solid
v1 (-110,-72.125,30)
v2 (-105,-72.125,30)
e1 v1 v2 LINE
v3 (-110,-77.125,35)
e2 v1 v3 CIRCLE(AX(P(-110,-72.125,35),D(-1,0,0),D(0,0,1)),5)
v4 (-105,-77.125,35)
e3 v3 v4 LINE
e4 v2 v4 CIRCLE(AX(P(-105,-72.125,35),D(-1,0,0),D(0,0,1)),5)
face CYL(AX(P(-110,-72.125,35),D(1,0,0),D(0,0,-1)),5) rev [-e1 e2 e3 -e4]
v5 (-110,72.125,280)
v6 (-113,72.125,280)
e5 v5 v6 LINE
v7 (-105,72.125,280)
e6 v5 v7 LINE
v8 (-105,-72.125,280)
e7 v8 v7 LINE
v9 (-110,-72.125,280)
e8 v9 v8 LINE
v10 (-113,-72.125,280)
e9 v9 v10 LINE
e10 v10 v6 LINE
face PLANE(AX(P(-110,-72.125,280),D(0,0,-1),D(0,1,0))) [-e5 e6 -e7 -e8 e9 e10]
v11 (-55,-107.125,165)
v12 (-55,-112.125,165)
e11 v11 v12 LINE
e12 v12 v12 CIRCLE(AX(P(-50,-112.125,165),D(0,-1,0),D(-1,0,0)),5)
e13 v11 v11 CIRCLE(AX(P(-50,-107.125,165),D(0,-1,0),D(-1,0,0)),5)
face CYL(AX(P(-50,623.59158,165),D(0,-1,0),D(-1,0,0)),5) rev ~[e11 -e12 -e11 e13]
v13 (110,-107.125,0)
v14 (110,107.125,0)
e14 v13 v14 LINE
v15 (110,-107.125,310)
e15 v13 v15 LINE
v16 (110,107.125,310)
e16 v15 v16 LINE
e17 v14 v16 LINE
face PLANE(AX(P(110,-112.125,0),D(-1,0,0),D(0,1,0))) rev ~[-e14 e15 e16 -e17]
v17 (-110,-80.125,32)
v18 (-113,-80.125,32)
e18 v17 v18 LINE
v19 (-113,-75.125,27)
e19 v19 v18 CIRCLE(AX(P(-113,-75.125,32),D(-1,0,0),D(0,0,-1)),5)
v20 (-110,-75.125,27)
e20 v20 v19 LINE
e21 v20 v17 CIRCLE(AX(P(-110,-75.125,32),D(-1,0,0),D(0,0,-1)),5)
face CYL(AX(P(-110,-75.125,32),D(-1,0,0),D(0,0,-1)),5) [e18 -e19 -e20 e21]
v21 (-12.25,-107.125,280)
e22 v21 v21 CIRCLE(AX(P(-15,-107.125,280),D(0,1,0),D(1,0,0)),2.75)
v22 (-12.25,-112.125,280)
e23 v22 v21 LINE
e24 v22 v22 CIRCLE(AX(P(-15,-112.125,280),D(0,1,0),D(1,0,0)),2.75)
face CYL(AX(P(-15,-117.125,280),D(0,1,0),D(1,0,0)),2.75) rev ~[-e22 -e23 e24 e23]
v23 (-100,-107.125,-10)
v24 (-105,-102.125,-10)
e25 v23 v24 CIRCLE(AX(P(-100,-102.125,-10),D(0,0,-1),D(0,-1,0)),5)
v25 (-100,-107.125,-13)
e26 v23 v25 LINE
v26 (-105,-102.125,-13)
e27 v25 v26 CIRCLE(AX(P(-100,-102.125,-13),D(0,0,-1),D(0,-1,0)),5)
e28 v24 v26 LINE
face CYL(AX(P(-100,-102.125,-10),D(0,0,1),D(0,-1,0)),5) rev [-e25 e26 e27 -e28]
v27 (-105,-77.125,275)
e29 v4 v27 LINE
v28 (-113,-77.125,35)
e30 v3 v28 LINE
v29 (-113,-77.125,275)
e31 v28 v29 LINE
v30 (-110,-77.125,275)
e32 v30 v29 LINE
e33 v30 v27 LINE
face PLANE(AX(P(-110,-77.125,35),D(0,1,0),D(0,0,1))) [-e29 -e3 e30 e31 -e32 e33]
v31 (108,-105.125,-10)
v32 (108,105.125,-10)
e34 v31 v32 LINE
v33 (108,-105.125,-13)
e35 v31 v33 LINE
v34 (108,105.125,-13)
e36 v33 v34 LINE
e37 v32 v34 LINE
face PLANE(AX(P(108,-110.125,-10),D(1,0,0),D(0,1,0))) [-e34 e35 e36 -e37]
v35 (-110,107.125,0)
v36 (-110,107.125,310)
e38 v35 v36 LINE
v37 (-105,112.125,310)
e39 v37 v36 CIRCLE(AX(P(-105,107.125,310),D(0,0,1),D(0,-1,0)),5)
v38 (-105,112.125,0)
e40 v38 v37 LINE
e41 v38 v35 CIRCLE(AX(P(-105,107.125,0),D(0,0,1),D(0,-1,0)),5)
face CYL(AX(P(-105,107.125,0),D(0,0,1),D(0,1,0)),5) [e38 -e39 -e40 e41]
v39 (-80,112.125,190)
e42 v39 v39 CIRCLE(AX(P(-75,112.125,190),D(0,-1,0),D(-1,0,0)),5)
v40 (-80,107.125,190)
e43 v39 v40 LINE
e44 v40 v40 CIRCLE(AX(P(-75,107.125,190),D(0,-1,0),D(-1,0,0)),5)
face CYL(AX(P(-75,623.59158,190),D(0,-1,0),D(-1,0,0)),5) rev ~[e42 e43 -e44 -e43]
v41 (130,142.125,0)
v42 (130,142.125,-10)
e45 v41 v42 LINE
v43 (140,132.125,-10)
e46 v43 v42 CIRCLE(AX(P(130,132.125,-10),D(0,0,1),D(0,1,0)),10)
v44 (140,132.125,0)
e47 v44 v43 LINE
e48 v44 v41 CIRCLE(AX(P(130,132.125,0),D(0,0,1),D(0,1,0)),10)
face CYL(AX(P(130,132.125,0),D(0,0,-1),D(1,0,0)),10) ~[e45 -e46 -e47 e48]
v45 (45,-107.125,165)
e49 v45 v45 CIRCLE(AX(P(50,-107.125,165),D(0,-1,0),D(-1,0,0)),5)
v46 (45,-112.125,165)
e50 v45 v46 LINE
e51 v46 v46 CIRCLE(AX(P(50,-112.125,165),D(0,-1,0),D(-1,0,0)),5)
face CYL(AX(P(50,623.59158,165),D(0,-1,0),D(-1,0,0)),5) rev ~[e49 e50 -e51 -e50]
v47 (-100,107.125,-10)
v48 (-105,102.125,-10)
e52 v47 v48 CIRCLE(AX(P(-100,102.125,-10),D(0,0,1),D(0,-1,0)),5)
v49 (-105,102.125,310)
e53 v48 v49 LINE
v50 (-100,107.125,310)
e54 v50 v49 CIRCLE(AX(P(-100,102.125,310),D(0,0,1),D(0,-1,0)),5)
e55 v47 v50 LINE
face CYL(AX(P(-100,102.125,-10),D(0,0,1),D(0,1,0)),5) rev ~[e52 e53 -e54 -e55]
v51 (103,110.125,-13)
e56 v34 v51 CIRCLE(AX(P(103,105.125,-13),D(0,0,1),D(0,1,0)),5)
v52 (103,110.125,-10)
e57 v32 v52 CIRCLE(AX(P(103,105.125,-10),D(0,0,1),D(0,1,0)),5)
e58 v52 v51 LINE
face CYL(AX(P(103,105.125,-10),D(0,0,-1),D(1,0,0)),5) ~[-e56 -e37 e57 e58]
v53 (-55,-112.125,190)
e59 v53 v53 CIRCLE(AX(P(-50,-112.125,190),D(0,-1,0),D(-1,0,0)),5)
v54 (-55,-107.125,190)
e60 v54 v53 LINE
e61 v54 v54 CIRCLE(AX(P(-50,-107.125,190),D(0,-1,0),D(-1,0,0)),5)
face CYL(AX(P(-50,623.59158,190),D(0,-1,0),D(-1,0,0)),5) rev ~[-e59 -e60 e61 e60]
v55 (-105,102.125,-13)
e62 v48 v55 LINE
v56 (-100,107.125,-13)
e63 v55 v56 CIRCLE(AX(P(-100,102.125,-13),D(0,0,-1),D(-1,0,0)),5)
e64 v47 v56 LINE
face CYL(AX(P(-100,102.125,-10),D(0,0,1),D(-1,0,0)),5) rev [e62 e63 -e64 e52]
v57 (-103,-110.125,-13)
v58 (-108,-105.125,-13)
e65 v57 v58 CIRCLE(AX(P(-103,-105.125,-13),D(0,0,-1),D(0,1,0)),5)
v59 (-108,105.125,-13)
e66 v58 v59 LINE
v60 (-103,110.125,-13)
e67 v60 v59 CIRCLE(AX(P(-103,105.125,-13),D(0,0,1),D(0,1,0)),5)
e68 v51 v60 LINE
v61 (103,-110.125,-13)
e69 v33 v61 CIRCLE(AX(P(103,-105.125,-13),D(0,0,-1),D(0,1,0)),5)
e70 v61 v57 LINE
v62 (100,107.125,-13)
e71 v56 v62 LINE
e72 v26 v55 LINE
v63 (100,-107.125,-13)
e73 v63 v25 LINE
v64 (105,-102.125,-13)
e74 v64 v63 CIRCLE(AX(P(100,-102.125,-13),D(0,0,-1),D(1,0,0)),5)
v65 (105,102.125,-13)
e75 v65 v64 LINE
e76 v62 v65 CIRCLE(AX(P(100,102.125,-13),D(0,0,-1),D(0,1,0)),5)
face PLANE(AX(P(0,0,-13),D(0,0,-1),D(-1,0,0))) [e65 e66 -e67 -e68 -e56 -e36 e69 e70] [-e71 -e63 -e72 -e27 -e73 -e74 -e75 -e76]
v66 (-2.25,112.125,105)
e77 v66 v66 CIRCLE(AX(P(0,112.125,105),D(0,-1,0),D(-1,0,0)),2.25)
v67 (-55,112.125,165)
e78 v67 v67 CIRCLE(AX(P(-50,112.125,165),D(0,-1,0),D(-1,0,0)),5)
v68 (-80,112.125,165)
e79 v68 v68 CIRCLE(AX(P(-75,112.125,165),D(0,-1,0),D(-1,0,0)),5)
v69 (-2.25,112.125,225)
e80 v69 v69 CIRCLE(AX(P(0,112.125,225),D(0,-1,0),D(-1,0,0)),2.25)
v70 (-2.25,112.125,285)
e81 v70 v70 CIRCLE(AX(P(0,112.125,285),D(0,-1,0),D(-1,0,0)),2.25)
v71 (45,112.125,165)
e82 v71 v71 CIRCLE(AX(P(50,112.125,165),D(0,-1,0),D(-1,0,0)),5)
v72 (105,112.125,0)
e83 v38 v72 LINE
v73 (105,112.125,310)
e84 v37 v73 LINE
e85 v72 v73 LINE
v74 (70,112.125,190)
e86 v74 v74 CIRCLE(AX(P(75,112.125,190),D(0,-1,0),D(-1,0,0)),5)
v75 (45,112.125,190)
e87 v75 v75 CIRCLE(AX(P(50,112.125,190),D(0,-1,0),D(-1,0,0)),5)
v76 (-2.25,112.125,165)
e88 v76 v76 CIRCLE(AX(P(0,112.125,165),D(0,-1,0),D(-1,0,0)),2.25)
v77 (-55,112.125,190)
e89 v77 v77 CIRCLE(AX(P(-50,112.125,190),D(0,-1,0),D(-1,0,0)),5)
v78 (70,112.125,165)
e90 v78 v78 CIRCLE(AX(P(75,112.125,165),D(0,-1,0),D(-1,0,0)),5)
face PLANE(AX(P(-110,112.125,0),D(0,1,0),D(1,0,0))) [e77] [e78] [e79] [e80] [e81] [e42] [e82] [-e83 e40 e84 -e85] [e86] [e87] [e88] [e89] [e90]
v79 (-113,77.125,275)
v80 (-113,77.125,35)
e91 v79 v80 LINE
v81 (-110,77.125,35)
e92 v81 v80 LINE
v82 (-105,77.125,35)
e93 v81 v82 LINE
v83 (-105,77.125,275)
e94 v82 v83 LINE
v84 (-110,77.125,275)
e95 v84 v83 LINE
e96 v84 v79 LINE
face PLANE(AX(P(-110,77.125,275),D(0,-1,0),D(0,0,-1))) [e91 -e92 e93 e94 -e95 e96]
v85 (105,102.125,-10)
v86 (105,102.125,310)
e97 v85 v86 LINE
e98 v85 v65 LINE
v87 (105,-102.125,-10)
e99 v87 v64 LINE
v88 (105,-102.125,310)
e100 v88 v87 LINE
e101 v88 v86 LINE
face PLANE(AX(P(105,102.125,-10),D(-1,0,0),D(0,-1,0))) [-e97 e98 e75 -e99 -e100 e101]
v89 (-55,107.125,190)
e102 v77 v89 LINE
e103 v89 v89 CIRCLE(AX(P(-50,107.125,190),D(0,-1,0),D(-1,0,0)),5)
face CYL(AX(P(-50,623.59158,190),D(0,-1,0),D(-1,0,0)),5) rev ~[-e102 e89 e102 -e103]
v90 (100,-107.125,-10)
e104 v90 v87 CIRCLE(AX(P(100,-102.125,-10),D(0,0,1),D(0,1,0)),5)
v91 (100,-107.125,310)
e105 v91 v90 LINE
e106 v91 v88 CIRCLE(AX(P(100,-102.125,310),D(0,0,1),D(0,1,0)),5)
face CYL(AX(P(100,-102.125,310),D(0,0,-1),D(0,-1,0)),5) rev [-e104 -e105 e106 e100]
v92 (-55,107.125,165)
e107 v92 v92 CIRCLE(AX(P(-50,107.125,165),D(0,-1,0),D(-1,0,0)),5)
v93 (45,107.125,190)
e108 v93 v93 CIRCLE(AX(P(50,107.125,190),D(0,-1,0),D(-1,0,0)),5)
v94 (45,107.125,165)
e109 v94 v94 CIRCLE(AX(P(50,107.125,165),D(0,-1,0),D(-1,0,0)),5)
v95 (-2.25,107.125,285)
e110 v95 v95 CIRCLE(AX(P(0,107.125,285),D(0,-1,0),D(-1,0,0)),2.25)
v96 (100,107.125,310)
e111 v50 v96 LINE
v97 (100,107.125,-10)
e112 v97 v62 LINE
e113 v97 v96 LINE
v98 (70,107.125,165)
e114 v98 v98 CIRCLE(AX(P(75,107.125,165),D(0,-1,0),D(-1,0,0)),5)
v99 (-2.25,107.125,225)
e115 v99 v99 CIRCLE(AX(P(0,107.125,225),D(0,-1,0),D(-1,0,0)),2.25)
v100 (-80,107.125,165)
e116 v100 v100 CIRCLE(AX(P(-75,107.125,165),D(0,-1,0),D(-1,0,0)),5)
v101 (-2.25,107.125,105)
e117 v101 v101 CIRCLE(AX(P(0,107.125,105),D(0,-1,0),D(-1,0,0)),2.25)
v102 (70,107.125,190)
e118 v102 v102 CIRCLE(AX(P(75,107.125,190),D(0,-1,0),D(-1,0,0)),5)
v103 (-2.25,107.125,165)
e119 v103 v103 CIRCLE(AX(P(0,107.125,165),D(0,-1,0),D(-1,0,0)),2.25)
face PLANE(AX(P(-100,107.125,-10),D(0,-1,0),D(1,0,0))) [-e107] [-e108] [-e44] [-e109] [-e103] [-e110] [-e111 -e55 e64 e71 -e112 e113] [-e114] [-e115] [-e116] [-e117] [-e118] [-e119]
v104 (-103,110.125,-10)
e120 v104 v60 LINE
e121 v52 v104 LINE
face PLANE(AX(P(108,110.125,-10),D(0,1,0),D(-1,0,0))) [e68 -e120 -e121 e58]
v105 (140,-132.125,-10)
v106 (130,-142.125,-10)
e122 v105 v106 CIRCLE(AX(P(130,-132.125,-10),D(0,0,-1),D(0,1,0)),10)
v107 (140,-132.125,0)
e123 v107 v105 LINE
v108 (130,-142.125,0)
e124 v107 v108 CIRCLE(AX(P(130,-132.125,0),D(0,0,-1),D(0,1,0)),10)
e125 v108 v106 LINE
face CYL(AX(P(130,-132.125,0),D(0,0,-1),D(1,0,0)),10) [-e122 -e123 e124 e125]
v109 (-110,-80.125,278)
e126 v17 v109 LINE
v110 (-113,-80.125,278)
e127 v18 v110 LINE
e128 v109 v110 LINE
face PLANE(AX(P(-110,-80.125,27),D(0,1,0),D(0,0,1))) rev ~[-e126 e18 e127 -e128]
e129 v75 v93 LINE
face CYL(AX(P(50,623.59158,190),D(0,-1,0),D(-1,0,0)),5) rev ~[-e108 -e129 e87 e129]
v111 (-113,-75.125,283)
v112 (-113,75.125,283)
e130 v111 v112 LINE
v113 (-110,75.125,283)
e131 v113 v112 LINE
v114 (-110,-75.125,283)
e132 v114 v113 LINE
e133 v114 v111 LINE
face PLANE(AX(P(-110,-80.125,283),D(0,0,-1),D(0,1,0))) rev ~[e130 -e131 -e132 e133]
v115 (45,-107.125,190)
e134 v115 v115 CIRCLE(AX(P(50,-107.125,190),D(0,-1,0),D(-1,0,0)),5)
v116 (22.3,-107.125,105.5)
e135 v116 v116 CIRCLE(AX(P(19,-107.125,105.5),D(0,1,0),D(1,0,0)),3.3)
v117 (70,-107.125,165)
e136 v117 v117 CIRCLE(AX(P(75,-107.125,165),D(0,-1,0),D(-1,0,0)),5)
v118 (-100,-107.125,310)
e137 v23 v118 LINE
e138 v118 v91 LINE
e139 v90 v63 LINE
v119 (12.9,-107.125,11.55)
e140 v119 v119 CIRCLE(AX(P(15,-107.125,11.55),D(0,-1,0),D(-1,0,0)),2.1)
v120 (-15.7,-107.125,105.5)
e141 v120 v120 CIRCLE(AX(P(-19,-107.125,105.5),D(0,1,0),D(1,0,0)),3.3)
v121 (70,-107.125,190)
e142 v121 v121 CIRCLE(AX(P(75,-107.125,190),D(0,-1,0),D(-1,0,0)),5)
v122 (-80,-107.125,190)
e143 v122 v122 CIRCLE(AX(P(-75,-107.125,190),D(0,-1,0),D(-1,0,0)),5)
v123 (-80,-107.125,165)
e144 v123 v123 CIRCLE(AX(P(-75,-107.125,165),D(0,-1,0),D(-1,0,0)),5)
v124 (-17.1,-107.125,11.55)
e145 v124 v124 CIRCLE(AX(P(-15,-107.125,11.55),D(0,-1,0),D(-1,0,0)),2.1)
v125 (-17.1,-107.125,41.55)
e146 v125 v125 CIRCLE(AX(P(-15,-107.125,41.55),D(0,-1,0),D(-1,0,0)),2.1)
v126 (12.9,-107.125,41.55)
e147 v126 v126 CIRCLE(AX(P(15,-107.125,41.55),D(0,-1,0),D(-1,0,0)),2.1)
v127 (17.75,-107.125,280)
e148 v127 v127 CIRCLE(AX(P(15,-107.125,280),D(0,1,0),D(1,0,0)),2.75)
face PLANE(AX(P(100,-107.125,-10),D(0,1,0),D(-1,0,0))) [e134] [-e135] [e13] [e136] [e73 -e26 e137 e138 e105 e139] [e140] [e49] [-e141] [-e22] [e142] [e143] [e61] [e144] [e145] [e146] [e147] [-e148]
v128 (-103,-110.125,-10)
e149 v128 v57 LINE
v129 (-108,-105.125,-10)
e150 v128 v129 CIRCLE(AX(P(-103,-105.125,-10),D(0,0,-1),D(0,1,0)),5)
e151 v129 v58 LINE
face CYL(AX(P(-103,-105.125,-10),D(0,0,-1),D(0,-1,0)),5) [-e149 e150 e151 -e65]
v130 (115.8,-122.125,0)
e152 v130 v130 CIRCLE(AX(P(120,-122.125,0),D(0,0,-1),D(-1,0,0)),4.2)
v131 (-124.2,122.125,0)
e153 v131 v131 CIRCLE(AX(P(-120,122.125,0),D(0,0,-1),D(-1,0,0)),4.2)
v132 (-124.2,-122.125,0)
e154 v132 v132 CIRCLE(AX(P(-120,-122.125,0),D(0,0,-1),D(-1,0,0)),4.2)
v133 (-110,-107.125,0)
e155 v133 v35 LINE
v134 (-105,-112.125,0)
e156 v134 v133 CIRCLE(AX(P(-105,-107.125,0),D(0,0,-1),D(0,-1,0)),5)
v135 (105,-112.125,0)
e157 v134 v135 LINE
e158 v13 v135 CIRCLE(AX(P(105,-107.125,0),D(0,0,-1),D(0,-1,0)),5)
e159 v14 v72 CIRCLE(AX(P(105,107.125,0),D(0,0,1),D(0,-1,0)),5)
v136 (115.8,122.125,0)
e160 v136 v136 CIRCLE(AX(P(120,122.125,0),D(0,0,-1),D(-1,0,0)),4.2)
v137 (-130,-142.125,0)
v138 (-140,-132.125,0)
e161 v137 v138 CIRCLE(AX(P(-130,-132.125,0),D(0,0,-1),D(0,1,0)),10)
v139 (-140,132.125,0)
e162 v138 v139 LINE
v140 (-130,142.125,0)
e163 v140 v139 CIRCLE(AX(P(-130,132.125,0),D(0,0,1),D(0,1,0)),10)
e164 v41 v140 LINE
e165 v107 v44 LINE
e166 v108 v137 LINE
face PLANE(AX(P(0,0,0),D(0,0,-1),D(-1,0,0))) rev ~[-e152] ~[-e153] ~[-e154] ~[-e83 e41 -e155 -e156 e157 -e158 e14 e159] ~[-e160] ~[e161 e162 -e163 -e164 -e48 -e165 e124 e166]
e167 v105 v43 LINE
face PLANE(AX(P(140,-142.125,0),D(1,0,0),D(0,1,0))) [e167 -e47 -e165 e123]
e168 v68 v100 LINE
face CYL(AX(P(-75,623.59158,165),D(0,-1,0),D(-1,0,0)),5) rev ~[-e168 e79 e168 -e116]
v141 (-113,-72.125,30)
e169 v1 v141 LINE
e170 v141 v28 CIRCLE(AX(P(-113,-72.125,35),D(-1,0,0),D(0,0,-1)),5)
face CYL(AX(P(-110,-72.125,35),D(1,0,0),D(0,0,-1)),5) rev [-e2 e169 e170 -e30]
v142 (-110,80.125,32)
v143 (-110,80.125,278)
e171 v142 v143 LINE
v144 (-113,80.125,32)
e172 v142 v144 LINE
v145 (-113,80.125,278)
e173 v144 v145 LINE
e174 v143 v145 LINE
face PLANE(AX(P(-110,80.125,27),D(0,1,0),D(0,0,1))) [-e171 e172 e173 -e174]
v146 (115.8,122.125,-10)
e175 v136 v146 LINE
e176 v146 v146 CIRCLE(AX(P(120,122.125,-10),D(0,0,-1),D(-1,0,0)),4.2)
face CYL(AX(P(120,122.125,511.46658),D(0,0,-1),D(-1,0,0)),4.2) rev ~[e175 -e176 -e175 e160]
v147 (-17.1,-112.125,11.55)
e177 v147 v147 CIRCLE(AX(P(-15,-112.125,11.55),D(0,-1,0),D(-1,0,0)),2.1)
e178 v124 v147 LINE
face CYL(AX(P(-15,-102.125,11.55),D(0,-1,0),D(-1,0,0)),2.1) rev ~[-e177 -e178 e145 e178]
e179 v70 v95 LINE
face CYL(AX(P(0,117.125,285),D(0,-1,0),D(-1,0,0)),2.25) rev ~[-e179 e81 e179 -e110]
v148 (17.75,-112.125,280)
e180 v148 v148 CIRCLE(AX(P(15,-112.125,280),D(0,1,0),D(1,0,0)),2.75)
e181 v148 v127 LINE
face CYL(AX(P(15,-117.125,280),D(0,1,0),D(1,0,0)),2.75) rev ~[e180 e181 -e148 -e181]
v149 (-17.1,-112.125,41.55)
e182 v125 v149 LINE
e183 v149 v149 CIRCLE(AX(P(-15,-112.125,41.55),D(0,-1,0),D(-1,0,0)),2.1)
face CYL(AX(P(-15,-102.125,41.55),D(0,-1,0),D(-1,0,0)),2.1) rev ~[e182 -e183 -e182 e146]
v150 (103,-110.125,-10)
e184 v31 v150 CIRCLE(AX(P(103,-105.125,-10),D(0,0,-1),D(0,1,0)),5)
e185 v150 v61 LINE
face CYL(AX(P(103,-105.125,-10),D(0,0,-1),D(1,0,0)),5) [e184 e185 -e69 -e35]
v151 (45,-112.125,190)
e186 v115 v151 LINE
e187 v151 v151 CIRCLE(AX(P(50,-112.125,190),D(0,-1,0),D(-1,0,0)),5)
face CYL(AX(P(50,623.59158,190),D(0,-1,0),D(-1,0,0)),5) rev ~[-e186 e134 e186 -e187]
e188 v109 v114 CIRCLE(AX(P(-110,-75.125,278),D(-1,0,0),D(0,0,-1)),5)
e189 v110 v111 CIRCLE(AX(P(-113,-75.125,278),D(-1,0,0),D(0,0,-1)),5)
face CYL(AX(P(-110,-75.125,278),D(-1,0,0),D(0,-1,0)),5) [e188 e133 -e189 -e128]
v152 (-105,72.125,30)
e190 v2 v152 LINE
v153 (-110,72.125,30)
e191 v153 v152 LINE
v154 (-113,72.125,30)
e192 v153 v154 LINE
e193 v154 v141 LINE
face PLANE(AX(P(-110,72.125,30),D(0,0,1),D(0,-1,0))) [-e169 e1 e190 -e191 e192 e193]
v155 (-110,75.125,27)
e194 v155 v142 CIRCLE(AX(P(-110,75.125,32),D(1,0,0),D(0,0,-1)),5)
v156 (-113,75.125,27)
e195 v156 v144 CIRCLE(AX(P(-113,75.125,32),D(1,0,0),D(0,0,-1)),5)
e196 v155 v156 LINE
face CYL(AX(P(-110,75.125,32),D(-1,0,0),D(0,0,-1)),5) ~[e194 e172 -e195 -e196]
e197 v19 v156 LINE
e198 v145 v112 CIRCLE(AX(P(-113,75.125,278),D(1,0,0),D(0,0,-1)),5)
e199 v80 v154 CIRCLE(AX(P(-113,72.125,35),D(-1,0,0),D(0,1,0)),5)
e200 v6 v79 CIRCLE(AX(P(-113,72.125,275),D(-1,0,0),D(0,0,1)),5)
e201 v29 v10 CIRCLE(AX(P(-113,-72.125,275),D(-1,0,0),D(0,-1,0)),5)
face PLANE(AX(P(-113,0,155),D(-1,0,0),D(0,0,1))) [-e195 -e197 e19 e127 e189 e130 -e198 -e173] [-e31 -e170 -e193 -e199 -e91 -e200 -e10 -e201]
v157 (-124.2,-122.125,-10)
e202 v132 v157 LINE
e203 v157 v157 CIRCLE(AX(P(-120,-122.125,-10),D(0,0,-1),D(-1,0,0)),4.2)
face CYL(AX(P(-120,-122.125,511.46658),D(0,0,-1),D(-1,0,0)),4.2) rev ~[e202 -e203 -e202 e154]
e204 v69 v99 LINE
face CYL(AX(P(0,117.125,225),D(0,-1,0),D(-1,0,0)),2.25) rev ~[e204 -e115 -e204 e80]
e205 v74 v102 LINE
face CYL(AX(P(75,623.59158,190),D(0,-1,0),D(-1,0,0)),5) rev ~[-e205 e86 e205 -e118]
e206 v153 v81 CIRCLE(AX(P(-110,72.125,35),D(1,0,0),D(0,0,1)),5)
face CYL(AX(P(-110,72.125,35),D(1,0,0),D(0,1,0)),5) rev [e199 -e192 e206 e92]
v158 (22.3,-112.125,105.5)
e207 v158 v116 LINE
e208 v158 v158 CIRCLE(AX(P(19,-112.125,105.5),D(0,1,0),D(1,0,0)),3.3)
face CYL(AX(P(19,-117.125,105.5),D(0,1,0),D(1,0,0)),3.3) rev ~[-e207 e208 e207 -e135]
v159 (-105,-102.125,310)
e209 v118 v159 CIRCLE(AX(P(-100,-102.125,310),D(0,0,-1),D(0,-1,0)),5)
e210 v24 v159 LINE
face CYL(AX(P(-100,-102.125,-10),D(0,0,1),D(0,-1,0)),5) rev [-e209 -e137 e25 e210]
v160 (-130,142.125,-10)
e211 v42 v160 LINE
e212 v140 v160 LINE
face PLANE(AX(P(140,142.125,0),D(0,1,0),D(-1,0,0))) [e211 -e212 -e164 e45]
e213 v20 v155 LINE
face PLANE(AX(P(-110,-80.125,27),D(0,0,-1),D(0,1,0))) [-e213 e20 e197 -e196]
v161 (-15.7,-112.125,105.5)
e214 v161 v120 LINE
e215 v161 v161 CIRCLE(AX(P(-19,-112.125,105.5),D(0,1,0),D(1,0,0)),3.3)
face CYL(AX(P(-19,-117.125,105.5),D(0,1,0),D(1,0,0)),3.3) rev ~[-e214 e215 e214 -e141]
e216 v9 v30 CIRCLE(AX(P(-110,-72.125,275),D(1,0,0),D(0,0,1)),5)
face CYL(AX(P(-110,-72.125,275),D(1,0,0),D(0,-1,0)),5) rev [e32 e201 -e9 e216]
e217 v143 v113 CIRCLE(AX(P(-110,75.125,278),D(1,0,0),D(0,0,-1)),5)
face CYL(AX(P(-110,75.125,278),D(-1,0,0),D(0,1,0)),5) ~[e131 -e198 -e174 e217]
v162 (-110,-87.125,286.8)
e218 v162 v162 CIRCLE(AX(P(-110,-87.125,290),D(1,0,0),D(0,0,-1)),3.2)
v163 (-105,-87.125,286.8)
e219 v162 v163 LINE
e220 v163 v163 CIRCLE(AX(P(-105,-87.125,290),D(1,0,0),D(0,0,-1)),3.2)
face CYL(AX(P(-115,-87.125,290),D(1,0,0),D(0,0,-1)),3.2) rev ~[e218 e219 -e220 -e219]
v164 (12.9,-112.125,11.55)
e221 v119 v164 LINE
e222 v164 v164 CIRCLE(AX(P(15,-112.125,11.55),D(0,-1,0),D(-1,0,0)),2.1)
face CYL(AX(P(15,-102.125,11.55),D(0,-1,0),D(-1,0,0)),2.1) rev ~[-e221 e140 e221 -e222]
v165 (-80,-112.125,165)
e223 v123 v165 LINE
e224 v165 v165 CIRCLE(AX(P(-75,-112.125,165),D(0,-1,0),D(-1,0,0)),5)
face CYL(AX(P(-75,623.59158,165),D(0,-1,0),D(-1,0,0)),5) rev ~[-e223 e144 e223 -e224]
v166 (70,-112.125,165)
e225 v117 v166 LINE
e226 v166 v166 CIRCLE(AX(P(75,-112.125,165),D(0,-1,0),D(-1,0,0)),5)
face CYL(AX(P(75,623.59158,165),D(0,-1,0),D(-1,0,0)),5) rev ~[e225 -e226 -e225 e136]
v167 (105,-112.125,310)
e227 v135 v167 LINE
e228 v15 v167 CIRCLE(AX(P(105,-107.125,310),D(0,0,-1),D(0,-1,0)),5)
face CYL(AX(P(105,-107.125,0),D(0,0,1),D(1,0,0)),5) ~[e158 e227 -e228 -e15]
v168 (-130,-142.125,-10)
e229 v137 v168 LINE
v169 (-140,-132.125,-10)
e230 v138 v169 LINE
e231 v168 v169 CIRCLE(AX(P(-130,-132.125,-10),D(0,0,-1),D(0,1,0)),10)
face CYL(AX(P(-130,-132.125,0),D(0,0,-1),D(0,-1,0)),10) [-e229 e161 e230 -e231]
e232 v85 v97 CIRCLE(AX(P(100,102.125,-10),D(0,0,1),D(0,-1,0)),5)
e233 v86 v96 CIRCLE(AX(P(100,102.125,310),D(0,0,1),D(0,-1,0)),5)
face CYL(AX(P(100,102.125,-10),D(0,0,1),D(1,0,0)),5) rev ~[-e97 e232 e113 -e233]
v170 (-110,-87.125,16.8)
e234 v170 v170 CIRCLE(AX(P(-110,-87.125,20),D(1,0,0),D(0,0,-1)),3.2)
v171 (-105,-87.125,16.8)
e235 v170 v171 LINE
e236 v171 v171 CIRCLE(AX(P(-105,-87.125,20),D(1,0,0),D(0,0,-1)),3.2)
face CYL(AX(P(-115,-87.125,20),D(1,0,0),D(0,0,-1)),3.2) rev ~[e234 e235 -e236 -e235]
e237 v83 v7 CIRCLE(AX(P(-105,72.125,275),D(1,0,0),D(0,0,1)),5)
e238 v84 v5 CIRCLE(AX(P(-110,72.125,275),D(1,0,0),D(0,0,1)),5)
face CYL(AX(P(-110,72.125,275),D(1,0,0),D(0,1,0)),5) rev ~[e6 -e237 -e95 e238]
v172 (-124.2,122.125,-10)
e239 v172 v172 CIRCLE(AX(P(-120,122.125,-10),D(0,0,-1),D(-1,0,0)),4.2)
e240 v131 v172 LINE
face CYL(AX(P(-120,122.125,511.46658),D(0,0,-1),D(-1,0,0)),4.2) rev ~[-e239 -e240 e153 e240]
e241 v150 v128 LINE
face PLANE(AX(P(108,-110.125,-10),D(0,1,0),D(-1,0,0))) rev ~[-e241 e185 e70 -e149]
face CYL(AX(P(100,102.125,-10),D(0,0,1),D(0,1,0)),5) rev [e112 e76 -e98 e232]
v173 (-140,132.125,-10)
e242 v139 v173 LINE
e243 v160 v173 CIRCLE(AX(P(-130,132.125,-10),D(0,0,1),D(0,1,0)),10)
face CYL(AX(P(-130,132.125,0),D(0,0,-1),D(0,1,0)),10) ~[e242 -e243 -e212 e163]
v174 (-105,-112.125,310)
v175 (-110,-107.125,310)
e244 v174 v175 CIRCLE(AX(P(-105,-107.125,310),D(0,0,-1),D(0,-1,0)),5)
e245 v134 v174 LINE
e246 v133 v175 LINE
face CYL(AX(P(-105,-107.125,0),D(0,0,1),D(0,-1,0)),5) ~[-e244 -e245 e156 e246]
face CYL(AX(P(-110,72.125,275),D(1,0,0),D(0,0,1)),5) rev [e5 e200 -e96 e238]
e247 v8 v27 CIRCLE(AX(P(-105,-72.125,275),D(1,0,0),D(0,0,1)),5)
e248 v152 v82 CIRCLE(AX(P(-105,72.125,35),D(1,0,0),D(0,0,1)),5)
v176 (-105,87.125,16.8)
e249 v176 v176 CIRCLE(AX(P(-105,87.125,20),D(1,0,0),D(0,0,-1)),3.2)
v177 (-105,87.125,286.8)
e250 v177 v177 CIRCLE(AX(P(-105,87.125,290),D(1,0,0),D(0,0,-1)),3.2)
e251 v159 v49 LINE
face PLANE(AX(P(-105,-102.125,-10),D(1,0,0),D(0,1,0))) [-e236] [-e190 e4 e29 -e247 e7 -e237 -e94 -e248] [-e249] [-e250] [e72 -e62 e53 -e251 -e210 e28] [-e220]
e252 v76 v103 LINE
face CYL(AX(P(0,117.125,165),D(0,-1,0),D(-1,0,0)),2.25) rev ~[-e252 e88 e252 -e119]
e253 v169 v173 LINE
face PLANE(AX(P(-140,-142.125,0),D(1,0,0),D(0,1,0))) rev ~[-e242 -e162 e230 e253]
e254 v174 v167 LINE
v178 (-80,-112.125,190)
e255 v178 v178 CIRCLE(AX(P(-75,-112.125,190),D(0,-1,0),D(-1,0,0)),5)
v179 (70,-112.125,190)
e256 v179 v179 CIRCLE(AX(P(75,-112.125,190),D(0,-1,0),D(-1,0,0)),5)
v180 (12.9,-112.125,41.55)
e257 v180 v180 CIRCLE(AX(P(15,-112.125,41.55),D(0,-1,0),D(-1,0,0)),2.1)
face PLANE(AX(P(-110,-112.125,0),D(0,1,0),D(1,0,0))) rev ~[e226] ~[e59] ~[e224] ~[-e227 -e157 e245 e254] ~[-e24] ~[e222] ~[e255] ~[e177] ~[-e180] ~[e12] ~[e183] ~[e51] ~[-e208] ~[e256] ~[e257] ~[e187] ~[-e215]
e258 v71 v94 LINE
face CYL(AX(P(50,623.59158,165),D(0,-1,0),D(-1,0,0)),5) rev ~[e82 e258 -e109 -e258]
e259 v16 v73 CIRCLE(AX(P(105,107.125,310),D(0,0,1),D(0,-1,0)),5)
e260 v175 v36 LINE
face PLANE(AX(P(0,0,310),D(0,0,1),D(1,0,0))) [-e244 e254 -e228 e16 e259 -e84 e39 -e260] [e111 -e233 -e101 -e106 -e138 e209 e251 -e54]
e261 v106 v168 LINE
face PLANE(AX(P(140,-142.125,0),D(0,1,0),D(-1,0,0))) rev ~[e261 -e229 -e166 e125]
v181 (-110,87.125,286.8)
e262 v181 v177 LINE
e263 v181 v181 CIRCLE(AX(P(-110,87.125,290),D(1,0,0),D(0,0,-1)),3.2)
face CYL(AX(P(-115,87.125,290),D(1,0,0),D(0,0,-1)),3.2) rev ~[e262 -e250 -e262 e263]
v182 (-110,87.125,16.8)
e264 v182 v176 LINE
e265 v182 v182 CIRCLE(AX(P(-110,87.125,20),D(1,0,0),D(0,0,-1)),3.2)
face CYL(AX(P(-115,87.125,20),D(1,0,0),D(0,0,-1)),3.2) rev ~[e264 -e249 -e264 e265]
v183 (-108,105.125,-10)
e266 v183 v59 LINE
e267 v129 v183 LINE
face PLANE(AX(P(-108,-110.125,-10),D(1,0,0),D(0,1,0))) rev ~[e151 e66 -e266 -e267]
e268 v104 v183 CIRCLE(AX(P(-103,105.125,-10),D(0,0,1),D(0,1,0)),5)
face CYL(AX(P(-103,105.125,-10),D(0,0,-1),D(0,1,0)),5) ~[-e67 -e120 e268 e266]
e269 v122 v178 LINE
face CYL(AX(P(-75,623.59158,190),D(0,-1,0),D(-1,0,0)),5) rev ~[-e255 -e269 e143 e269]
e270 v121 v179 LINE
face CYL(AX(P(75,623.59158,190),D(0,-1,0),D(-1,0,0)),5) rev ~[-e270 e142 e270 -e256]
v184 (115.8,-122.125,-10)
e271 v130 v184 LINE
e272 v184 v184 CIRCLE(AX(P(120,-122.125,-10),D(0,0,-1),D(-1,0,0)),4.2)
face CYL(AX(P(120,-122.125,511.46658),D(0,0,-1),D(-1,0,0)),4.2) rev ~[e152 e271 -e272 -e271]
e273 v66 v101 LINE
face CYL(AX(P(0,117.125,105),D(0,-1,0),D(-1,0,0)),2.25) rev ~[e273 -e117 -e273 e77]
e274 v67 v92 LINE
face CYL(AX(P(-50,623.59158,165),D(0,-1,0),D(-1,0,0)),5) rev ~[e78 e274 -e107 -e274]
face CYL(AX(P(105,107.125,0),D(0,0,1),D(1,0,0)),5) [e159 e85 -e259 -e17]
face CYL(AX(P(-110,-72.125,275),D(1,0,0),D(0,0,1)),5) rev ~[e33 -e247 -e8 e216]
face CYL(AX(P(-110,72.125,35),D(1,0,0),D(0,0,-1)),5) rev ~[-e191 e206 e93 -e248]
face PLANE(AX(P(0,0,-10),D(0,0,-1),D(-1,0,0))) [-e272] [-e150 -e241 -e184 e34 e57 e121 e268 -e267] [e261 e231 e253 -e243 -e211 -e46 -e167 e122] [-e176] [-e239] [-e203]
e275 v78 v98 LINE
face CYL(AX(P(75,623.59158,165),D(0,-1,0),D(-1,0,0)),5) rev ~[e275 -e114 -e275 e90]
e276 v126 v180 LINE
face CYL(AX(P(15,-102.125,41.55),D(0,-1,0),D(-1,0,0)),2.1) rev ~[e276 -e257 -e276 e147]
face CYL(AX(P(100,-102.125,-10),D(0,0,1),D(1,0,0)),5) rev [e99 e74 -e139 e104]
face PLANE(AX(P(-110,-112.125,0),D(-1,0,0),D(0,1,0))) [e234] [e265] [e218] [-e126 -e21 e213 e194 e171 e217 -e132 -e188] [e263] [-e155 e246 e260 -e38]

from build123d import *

# Parameters (mm, degrees)
SKETCH_1_W                  = 220
SKETCH_1_H                  = 224.25
SKETCH_1_W_2                = 210
SKETCH_1_H_2                = 214.25
EXTRUDE_1_DEPTH             = 310
SKETCH_2_W                  = 280
SKETCH_2_H                  = 284.25
SKETCH_2_W_2                = 210
SKETCH_2_H_2                = 214.25
EXTRUDE_2_DEPTH             = 10
FILLET_1_R                  = 5
FILLET_2_R                  = 5
FILLET_3_R                  = 10
HOLE_WIZARD_8_4_8_4_1_D     = 8.4
MM_11_D                     = 10
HOLE_WIZARD_4_5_4_5_1_D     = 4.5
HOLE_WIZARD_4_5_4_5_1_DEPTH = 5
HOLE_WIZARD_6_6_6_6_1_D     = 6.6
HOLE_WIZARD_6_6_6_6_1_DEPTH = 5
HOLE_WIZARD_5_5_5_5_1_D     = 5.5
HOLE_WIZARD_5_5_5_5_1_DEPTH = 5
CUT_EXTRUDE_1_REACH         = 252
SKETCH_45_W                 = 250
SKETCH_45_H                 = 154.25
FILLET_4_R                  = 5
SKETCH_49_W                 = 256
SKETCH_49_H                 = 160.25
EXTRUDE_3_DEPTH             = 3
FILLET_5_R                  = 5
SKETCH_50_W                 = 216
SKETCH_50_H                 = 220.25
EXTRUDE_4_DEPTH             = 3
FILLET_6_R                  = 5
HOLE_WIZARD_6_4_6_4_1_D     = 6.4
HOLE_WIZARD_6_4_6_4_1_DEPTH = 5
HOLE_WIZARD_4_2_4_2_1_D     = 4.2
HOLE_WIZARD_4_2_4_2_1_DEPTH = 5


with BuildPart() as part:
    # 草图1 → 凸台-拉伸1 (new body)
    with BuildSketch(Plane.XY):
        Rectangle(SKETCH_1_W, SKETCH_1_H)
        Rectangle(SKETCH_1_W_2, SKETCH_1_H_2, mode=Mode.SUBTRACT)
    extrude(amount=EXTRUDE_1_DEPTH)

    # 草图2 → 凸台-拉伸2 (add)
    with BuildSketch(Plane(origin=(0, 0, 0), x_dir=(-1, 0, 0), z_dir=(0, 0, -1))):
        Rectangle(SKETCH_2_W, SKETCH_2_H)
        Rectangle(SKETCH_2_W_2, SKETCH_2_H_2, mode=Mode.SUBTRACT)
    extrude(amount=EXTRUDE_2_DEPTH)

    # 圆角1
    fillet_1_edges = [part.edges().sort_by_distance(p)[0] for p in [
        (110, -112.125, 155),
        (-110, -112.125, 155),
        (-110, 112.125, 155),
        (110, 112.125, 155),
    ]]
    fillet(fillet_1_edges, radius=FILLET_1_R)

    # 圆角2
    fillet_2_edges = [part.edges().sort_by_distance(p)[0] for p in [
        (105, -107.125, 150),
        (105, 107.125, 150),
        (-105, 107.125, 150),
        (-105, -107.125, 150),
    ]]
    fillet(fillet_2_edges, radius=FILLET_2_R)

    # 圆角3
    fillet_3_edges = [part.edges().sort_by_distance(p)[0] for p in [
        (-140, -142.125, -5),
        (-140, 142.125, -5),
        (140, 142.125, -5),
        (140, -142.125, -5),
    ]]
    fillet(fillet_3_edges, radius=FILLET_3_R)

    # Ø8.4 (8.4) 直径孔1 (through all)
    with Locations(Plane.XY):
        with Locations((120, 122.125), (120, -122.125), (-120, -122.125), (-120, 122.125)):
            Hole(HOLE_WIZARD_8_4_8_4_1_D / 2)

    # 大小mm 暗销孔11 (through all)
    with Locations(Plane(origin=(0, 112.125, 0), x_dir=(1, 0, 0), z_dir=(0, 1, 0))):
        with Locations((-75, -165), (-50, -165), (-50, -190), (-75, -190), (50, -190), (50, -165), (75, -165), (75, -190)):
            Hole(MM_11_D / 2)

    # Ø4.5 (4.5) 直径孔1
    with Locations(Plane(origin=(0, 112.125, 0), x_dir=(1, 0, 0), z_dir=(0, 1, 0))):
        with Locations((0, -105), (0, -165), (0, -225), (0, -285)):
            Hole(HOLE_WIZARD_4_5_4_5_1_D / 2, depth=HOLE_WIZARD_4_5_4_5_1_DEPTH)

    # Ø6.6 (6.6) 直径孔1
    with Locations(Plane(origin=(0, -112.125, 0), x_dir=(-1, 0, 0), z_dir=(0, -1, 0))):
        with Locations((19, -105.5), (-19, -105.5)):
            Hole(HOLE_WIZARD_6_6_6_6_1_D / 2, depth=HOLE_WIZARD_6_6_6_6_1_DEPTH)

    # Ø5.5 (5.5) 直径孔1
    with Locations(Plane(origin=(0, -112.125, 0), x_dir=(-1, 0, 0), z_dir=(0, -1, 0))):
        with Locations((15, -280), (-15, -280)):
            Hole(HOLE_WIZARD_5_5_5_5_1_D / 2, depth=HOLE_WIZARD_5_5_5_5_1_DEPTH)

    # 草图45 → 切除-拉伸1 (cut, up to next)
    with BuildSketch(Plane.ZY.offset(110), mode=Mode.PRIVATE) as cut_extrude_1_sk1:
        with Locations((155, 0)):
            Rectangle(SKETCH_45_W, SKETCH_45_H)
    cut_extrude_1_tool1 = extrude(cut_extrude_1_sk1.sketch, amount=-CUT_EXTRUDE_1_REACH, mode=Mode.PRIVATE) & part.part
    add(cut_extrude_1_tool1.solids().sort_by_distance((-110, 0, 155))[0], mode=Mode.SUBTRACT)

    # 圆角4
    fillet_4_edges = [part.edges().sort_by_distance(p)[0] for p in [
        (-107.5, -77.125, 280),
        (-107.5, 77.125, 280),
        (-107.5, 77.125, 30),
        (-107.5, -77.125, 30),
    ]]
    fillet(fillet_4_edges, radius=FILLET_4_R)

    # 草图49 → 凸台-拉伸3 (add)
    with BuildSketch(Plane.ZY.offset(110)):
        with Locations((155, 0)):
            Rectangle(SKETCH_49_W, SKETCH_49_H)
        with BuildLine():
            Line((280, -72.125), (280, 72.125))
            ThreePointArc((280, 72.125), (278.535533906, 75.660533906), (275, 77.125))
            Line((275, 77.125), (35, 77.125))
            ThreePointArc((35, 77.125), (31.464466094, 75.660533906), (30, 72.125))
            Line((30, 72.125), (30, -72.125))
            ThreePointArc((30, -72.125), (31.464466094, -75.660533906), (35, -77.125))
            Line((35, -77.125), (275, -77.125))
            ThreePointArc((275, -77.125), (278.535533906, -75.660533906), (280, -72.125))
        make_face(mode=Mode.SUBTRACT)
    extrude(amount=EXTRUDE_3_DEPTH)

    # 圆角5
    fillet_5_edges = [part.edges().sort_by_distance(p)[0] for p in [
        (-111.5, 80.125, 27),
        (-111.5, -80.125, 27),
        (-111.5, -80.125, 283),
        (-111.5, 80.125, 283),
    ]]
    fillet(fillet_5_edges, radius=FILLET_5_R)

    # 草图50 → 凸台-拉伸4 (add)
    with BuildSketch(Plane(origin=(0, 0, -10), x_dir=(-1, 0, 0), z_dir=(0, 0, -1))):
        Rectangle(SKETCH_50_W, SKETCH_50_H)
        with BuildLine():
            Line((-100, -107.125), (100, -107.125))
            ThreePointArc((100, -107.125), (103.535533906, -105.660533906), (105, -102.125))
            Line((105, -102.125), (105, 102.125))
            ThreePointArc((105, 102.125), (103.535533906, 105.660533906), (100, 107.125))
            Line((100, 107.125), (-100, 107.125))
            ThreePointArc((-100, 107.125), (-103.535533906, 105.660533906), (-105, 102.125))
            Line((-105, 102.125), (-105, -102.125))
            ThreePointArc((-105, -102.125), (-103.535533906, -105.660533906), (-100, -107.125))
        make_face(mode=Mode.SUBTRACT)
    extrude(amount=EXTRUDE_4_DEPTH)

    # 圆角6
    fillet_6_edges = [part.edges().sort_by_distance(p)[0] for p in [
        (108, 110.125, -11.5),
        (108, -110.125, -11.5),
        (-108, -110.125, -11.5),
        (-108, 110.125, -11.5),
    ]]
    fillet(fillet_6_edges, radius=FILLET_6_R)

    # Ø6.4 (6.4) 直径孔1
    with Locations(Plane.ZY.offset(110)):
        with Locations((20, 87.125), (20, -87.125), (290, -87.125), (290, 87.125)):
            Hole(HOLE_WIZARD_6_4_6_4_1_D / 2, depth=HOLE_WIZARD_6_4_6_4_1_DEPTH)

    # Ø4.2 (4.2) 直径孔1
    with Locations(Plane(origin=(0, -107.125, 0), x_dir=(1, 0, 0), z_dir=(0, 1, 0))):
        with Locations((-15, -11.55), (15, -11.55), (15, -41.55), (-15, -41.55)):
            Hole(HOLE_WIZARD_4_2_4_2_1_D / 2, depth=HOLE_WIZARD_4_2_4_2_1_DEPTH)


solid = part.part
